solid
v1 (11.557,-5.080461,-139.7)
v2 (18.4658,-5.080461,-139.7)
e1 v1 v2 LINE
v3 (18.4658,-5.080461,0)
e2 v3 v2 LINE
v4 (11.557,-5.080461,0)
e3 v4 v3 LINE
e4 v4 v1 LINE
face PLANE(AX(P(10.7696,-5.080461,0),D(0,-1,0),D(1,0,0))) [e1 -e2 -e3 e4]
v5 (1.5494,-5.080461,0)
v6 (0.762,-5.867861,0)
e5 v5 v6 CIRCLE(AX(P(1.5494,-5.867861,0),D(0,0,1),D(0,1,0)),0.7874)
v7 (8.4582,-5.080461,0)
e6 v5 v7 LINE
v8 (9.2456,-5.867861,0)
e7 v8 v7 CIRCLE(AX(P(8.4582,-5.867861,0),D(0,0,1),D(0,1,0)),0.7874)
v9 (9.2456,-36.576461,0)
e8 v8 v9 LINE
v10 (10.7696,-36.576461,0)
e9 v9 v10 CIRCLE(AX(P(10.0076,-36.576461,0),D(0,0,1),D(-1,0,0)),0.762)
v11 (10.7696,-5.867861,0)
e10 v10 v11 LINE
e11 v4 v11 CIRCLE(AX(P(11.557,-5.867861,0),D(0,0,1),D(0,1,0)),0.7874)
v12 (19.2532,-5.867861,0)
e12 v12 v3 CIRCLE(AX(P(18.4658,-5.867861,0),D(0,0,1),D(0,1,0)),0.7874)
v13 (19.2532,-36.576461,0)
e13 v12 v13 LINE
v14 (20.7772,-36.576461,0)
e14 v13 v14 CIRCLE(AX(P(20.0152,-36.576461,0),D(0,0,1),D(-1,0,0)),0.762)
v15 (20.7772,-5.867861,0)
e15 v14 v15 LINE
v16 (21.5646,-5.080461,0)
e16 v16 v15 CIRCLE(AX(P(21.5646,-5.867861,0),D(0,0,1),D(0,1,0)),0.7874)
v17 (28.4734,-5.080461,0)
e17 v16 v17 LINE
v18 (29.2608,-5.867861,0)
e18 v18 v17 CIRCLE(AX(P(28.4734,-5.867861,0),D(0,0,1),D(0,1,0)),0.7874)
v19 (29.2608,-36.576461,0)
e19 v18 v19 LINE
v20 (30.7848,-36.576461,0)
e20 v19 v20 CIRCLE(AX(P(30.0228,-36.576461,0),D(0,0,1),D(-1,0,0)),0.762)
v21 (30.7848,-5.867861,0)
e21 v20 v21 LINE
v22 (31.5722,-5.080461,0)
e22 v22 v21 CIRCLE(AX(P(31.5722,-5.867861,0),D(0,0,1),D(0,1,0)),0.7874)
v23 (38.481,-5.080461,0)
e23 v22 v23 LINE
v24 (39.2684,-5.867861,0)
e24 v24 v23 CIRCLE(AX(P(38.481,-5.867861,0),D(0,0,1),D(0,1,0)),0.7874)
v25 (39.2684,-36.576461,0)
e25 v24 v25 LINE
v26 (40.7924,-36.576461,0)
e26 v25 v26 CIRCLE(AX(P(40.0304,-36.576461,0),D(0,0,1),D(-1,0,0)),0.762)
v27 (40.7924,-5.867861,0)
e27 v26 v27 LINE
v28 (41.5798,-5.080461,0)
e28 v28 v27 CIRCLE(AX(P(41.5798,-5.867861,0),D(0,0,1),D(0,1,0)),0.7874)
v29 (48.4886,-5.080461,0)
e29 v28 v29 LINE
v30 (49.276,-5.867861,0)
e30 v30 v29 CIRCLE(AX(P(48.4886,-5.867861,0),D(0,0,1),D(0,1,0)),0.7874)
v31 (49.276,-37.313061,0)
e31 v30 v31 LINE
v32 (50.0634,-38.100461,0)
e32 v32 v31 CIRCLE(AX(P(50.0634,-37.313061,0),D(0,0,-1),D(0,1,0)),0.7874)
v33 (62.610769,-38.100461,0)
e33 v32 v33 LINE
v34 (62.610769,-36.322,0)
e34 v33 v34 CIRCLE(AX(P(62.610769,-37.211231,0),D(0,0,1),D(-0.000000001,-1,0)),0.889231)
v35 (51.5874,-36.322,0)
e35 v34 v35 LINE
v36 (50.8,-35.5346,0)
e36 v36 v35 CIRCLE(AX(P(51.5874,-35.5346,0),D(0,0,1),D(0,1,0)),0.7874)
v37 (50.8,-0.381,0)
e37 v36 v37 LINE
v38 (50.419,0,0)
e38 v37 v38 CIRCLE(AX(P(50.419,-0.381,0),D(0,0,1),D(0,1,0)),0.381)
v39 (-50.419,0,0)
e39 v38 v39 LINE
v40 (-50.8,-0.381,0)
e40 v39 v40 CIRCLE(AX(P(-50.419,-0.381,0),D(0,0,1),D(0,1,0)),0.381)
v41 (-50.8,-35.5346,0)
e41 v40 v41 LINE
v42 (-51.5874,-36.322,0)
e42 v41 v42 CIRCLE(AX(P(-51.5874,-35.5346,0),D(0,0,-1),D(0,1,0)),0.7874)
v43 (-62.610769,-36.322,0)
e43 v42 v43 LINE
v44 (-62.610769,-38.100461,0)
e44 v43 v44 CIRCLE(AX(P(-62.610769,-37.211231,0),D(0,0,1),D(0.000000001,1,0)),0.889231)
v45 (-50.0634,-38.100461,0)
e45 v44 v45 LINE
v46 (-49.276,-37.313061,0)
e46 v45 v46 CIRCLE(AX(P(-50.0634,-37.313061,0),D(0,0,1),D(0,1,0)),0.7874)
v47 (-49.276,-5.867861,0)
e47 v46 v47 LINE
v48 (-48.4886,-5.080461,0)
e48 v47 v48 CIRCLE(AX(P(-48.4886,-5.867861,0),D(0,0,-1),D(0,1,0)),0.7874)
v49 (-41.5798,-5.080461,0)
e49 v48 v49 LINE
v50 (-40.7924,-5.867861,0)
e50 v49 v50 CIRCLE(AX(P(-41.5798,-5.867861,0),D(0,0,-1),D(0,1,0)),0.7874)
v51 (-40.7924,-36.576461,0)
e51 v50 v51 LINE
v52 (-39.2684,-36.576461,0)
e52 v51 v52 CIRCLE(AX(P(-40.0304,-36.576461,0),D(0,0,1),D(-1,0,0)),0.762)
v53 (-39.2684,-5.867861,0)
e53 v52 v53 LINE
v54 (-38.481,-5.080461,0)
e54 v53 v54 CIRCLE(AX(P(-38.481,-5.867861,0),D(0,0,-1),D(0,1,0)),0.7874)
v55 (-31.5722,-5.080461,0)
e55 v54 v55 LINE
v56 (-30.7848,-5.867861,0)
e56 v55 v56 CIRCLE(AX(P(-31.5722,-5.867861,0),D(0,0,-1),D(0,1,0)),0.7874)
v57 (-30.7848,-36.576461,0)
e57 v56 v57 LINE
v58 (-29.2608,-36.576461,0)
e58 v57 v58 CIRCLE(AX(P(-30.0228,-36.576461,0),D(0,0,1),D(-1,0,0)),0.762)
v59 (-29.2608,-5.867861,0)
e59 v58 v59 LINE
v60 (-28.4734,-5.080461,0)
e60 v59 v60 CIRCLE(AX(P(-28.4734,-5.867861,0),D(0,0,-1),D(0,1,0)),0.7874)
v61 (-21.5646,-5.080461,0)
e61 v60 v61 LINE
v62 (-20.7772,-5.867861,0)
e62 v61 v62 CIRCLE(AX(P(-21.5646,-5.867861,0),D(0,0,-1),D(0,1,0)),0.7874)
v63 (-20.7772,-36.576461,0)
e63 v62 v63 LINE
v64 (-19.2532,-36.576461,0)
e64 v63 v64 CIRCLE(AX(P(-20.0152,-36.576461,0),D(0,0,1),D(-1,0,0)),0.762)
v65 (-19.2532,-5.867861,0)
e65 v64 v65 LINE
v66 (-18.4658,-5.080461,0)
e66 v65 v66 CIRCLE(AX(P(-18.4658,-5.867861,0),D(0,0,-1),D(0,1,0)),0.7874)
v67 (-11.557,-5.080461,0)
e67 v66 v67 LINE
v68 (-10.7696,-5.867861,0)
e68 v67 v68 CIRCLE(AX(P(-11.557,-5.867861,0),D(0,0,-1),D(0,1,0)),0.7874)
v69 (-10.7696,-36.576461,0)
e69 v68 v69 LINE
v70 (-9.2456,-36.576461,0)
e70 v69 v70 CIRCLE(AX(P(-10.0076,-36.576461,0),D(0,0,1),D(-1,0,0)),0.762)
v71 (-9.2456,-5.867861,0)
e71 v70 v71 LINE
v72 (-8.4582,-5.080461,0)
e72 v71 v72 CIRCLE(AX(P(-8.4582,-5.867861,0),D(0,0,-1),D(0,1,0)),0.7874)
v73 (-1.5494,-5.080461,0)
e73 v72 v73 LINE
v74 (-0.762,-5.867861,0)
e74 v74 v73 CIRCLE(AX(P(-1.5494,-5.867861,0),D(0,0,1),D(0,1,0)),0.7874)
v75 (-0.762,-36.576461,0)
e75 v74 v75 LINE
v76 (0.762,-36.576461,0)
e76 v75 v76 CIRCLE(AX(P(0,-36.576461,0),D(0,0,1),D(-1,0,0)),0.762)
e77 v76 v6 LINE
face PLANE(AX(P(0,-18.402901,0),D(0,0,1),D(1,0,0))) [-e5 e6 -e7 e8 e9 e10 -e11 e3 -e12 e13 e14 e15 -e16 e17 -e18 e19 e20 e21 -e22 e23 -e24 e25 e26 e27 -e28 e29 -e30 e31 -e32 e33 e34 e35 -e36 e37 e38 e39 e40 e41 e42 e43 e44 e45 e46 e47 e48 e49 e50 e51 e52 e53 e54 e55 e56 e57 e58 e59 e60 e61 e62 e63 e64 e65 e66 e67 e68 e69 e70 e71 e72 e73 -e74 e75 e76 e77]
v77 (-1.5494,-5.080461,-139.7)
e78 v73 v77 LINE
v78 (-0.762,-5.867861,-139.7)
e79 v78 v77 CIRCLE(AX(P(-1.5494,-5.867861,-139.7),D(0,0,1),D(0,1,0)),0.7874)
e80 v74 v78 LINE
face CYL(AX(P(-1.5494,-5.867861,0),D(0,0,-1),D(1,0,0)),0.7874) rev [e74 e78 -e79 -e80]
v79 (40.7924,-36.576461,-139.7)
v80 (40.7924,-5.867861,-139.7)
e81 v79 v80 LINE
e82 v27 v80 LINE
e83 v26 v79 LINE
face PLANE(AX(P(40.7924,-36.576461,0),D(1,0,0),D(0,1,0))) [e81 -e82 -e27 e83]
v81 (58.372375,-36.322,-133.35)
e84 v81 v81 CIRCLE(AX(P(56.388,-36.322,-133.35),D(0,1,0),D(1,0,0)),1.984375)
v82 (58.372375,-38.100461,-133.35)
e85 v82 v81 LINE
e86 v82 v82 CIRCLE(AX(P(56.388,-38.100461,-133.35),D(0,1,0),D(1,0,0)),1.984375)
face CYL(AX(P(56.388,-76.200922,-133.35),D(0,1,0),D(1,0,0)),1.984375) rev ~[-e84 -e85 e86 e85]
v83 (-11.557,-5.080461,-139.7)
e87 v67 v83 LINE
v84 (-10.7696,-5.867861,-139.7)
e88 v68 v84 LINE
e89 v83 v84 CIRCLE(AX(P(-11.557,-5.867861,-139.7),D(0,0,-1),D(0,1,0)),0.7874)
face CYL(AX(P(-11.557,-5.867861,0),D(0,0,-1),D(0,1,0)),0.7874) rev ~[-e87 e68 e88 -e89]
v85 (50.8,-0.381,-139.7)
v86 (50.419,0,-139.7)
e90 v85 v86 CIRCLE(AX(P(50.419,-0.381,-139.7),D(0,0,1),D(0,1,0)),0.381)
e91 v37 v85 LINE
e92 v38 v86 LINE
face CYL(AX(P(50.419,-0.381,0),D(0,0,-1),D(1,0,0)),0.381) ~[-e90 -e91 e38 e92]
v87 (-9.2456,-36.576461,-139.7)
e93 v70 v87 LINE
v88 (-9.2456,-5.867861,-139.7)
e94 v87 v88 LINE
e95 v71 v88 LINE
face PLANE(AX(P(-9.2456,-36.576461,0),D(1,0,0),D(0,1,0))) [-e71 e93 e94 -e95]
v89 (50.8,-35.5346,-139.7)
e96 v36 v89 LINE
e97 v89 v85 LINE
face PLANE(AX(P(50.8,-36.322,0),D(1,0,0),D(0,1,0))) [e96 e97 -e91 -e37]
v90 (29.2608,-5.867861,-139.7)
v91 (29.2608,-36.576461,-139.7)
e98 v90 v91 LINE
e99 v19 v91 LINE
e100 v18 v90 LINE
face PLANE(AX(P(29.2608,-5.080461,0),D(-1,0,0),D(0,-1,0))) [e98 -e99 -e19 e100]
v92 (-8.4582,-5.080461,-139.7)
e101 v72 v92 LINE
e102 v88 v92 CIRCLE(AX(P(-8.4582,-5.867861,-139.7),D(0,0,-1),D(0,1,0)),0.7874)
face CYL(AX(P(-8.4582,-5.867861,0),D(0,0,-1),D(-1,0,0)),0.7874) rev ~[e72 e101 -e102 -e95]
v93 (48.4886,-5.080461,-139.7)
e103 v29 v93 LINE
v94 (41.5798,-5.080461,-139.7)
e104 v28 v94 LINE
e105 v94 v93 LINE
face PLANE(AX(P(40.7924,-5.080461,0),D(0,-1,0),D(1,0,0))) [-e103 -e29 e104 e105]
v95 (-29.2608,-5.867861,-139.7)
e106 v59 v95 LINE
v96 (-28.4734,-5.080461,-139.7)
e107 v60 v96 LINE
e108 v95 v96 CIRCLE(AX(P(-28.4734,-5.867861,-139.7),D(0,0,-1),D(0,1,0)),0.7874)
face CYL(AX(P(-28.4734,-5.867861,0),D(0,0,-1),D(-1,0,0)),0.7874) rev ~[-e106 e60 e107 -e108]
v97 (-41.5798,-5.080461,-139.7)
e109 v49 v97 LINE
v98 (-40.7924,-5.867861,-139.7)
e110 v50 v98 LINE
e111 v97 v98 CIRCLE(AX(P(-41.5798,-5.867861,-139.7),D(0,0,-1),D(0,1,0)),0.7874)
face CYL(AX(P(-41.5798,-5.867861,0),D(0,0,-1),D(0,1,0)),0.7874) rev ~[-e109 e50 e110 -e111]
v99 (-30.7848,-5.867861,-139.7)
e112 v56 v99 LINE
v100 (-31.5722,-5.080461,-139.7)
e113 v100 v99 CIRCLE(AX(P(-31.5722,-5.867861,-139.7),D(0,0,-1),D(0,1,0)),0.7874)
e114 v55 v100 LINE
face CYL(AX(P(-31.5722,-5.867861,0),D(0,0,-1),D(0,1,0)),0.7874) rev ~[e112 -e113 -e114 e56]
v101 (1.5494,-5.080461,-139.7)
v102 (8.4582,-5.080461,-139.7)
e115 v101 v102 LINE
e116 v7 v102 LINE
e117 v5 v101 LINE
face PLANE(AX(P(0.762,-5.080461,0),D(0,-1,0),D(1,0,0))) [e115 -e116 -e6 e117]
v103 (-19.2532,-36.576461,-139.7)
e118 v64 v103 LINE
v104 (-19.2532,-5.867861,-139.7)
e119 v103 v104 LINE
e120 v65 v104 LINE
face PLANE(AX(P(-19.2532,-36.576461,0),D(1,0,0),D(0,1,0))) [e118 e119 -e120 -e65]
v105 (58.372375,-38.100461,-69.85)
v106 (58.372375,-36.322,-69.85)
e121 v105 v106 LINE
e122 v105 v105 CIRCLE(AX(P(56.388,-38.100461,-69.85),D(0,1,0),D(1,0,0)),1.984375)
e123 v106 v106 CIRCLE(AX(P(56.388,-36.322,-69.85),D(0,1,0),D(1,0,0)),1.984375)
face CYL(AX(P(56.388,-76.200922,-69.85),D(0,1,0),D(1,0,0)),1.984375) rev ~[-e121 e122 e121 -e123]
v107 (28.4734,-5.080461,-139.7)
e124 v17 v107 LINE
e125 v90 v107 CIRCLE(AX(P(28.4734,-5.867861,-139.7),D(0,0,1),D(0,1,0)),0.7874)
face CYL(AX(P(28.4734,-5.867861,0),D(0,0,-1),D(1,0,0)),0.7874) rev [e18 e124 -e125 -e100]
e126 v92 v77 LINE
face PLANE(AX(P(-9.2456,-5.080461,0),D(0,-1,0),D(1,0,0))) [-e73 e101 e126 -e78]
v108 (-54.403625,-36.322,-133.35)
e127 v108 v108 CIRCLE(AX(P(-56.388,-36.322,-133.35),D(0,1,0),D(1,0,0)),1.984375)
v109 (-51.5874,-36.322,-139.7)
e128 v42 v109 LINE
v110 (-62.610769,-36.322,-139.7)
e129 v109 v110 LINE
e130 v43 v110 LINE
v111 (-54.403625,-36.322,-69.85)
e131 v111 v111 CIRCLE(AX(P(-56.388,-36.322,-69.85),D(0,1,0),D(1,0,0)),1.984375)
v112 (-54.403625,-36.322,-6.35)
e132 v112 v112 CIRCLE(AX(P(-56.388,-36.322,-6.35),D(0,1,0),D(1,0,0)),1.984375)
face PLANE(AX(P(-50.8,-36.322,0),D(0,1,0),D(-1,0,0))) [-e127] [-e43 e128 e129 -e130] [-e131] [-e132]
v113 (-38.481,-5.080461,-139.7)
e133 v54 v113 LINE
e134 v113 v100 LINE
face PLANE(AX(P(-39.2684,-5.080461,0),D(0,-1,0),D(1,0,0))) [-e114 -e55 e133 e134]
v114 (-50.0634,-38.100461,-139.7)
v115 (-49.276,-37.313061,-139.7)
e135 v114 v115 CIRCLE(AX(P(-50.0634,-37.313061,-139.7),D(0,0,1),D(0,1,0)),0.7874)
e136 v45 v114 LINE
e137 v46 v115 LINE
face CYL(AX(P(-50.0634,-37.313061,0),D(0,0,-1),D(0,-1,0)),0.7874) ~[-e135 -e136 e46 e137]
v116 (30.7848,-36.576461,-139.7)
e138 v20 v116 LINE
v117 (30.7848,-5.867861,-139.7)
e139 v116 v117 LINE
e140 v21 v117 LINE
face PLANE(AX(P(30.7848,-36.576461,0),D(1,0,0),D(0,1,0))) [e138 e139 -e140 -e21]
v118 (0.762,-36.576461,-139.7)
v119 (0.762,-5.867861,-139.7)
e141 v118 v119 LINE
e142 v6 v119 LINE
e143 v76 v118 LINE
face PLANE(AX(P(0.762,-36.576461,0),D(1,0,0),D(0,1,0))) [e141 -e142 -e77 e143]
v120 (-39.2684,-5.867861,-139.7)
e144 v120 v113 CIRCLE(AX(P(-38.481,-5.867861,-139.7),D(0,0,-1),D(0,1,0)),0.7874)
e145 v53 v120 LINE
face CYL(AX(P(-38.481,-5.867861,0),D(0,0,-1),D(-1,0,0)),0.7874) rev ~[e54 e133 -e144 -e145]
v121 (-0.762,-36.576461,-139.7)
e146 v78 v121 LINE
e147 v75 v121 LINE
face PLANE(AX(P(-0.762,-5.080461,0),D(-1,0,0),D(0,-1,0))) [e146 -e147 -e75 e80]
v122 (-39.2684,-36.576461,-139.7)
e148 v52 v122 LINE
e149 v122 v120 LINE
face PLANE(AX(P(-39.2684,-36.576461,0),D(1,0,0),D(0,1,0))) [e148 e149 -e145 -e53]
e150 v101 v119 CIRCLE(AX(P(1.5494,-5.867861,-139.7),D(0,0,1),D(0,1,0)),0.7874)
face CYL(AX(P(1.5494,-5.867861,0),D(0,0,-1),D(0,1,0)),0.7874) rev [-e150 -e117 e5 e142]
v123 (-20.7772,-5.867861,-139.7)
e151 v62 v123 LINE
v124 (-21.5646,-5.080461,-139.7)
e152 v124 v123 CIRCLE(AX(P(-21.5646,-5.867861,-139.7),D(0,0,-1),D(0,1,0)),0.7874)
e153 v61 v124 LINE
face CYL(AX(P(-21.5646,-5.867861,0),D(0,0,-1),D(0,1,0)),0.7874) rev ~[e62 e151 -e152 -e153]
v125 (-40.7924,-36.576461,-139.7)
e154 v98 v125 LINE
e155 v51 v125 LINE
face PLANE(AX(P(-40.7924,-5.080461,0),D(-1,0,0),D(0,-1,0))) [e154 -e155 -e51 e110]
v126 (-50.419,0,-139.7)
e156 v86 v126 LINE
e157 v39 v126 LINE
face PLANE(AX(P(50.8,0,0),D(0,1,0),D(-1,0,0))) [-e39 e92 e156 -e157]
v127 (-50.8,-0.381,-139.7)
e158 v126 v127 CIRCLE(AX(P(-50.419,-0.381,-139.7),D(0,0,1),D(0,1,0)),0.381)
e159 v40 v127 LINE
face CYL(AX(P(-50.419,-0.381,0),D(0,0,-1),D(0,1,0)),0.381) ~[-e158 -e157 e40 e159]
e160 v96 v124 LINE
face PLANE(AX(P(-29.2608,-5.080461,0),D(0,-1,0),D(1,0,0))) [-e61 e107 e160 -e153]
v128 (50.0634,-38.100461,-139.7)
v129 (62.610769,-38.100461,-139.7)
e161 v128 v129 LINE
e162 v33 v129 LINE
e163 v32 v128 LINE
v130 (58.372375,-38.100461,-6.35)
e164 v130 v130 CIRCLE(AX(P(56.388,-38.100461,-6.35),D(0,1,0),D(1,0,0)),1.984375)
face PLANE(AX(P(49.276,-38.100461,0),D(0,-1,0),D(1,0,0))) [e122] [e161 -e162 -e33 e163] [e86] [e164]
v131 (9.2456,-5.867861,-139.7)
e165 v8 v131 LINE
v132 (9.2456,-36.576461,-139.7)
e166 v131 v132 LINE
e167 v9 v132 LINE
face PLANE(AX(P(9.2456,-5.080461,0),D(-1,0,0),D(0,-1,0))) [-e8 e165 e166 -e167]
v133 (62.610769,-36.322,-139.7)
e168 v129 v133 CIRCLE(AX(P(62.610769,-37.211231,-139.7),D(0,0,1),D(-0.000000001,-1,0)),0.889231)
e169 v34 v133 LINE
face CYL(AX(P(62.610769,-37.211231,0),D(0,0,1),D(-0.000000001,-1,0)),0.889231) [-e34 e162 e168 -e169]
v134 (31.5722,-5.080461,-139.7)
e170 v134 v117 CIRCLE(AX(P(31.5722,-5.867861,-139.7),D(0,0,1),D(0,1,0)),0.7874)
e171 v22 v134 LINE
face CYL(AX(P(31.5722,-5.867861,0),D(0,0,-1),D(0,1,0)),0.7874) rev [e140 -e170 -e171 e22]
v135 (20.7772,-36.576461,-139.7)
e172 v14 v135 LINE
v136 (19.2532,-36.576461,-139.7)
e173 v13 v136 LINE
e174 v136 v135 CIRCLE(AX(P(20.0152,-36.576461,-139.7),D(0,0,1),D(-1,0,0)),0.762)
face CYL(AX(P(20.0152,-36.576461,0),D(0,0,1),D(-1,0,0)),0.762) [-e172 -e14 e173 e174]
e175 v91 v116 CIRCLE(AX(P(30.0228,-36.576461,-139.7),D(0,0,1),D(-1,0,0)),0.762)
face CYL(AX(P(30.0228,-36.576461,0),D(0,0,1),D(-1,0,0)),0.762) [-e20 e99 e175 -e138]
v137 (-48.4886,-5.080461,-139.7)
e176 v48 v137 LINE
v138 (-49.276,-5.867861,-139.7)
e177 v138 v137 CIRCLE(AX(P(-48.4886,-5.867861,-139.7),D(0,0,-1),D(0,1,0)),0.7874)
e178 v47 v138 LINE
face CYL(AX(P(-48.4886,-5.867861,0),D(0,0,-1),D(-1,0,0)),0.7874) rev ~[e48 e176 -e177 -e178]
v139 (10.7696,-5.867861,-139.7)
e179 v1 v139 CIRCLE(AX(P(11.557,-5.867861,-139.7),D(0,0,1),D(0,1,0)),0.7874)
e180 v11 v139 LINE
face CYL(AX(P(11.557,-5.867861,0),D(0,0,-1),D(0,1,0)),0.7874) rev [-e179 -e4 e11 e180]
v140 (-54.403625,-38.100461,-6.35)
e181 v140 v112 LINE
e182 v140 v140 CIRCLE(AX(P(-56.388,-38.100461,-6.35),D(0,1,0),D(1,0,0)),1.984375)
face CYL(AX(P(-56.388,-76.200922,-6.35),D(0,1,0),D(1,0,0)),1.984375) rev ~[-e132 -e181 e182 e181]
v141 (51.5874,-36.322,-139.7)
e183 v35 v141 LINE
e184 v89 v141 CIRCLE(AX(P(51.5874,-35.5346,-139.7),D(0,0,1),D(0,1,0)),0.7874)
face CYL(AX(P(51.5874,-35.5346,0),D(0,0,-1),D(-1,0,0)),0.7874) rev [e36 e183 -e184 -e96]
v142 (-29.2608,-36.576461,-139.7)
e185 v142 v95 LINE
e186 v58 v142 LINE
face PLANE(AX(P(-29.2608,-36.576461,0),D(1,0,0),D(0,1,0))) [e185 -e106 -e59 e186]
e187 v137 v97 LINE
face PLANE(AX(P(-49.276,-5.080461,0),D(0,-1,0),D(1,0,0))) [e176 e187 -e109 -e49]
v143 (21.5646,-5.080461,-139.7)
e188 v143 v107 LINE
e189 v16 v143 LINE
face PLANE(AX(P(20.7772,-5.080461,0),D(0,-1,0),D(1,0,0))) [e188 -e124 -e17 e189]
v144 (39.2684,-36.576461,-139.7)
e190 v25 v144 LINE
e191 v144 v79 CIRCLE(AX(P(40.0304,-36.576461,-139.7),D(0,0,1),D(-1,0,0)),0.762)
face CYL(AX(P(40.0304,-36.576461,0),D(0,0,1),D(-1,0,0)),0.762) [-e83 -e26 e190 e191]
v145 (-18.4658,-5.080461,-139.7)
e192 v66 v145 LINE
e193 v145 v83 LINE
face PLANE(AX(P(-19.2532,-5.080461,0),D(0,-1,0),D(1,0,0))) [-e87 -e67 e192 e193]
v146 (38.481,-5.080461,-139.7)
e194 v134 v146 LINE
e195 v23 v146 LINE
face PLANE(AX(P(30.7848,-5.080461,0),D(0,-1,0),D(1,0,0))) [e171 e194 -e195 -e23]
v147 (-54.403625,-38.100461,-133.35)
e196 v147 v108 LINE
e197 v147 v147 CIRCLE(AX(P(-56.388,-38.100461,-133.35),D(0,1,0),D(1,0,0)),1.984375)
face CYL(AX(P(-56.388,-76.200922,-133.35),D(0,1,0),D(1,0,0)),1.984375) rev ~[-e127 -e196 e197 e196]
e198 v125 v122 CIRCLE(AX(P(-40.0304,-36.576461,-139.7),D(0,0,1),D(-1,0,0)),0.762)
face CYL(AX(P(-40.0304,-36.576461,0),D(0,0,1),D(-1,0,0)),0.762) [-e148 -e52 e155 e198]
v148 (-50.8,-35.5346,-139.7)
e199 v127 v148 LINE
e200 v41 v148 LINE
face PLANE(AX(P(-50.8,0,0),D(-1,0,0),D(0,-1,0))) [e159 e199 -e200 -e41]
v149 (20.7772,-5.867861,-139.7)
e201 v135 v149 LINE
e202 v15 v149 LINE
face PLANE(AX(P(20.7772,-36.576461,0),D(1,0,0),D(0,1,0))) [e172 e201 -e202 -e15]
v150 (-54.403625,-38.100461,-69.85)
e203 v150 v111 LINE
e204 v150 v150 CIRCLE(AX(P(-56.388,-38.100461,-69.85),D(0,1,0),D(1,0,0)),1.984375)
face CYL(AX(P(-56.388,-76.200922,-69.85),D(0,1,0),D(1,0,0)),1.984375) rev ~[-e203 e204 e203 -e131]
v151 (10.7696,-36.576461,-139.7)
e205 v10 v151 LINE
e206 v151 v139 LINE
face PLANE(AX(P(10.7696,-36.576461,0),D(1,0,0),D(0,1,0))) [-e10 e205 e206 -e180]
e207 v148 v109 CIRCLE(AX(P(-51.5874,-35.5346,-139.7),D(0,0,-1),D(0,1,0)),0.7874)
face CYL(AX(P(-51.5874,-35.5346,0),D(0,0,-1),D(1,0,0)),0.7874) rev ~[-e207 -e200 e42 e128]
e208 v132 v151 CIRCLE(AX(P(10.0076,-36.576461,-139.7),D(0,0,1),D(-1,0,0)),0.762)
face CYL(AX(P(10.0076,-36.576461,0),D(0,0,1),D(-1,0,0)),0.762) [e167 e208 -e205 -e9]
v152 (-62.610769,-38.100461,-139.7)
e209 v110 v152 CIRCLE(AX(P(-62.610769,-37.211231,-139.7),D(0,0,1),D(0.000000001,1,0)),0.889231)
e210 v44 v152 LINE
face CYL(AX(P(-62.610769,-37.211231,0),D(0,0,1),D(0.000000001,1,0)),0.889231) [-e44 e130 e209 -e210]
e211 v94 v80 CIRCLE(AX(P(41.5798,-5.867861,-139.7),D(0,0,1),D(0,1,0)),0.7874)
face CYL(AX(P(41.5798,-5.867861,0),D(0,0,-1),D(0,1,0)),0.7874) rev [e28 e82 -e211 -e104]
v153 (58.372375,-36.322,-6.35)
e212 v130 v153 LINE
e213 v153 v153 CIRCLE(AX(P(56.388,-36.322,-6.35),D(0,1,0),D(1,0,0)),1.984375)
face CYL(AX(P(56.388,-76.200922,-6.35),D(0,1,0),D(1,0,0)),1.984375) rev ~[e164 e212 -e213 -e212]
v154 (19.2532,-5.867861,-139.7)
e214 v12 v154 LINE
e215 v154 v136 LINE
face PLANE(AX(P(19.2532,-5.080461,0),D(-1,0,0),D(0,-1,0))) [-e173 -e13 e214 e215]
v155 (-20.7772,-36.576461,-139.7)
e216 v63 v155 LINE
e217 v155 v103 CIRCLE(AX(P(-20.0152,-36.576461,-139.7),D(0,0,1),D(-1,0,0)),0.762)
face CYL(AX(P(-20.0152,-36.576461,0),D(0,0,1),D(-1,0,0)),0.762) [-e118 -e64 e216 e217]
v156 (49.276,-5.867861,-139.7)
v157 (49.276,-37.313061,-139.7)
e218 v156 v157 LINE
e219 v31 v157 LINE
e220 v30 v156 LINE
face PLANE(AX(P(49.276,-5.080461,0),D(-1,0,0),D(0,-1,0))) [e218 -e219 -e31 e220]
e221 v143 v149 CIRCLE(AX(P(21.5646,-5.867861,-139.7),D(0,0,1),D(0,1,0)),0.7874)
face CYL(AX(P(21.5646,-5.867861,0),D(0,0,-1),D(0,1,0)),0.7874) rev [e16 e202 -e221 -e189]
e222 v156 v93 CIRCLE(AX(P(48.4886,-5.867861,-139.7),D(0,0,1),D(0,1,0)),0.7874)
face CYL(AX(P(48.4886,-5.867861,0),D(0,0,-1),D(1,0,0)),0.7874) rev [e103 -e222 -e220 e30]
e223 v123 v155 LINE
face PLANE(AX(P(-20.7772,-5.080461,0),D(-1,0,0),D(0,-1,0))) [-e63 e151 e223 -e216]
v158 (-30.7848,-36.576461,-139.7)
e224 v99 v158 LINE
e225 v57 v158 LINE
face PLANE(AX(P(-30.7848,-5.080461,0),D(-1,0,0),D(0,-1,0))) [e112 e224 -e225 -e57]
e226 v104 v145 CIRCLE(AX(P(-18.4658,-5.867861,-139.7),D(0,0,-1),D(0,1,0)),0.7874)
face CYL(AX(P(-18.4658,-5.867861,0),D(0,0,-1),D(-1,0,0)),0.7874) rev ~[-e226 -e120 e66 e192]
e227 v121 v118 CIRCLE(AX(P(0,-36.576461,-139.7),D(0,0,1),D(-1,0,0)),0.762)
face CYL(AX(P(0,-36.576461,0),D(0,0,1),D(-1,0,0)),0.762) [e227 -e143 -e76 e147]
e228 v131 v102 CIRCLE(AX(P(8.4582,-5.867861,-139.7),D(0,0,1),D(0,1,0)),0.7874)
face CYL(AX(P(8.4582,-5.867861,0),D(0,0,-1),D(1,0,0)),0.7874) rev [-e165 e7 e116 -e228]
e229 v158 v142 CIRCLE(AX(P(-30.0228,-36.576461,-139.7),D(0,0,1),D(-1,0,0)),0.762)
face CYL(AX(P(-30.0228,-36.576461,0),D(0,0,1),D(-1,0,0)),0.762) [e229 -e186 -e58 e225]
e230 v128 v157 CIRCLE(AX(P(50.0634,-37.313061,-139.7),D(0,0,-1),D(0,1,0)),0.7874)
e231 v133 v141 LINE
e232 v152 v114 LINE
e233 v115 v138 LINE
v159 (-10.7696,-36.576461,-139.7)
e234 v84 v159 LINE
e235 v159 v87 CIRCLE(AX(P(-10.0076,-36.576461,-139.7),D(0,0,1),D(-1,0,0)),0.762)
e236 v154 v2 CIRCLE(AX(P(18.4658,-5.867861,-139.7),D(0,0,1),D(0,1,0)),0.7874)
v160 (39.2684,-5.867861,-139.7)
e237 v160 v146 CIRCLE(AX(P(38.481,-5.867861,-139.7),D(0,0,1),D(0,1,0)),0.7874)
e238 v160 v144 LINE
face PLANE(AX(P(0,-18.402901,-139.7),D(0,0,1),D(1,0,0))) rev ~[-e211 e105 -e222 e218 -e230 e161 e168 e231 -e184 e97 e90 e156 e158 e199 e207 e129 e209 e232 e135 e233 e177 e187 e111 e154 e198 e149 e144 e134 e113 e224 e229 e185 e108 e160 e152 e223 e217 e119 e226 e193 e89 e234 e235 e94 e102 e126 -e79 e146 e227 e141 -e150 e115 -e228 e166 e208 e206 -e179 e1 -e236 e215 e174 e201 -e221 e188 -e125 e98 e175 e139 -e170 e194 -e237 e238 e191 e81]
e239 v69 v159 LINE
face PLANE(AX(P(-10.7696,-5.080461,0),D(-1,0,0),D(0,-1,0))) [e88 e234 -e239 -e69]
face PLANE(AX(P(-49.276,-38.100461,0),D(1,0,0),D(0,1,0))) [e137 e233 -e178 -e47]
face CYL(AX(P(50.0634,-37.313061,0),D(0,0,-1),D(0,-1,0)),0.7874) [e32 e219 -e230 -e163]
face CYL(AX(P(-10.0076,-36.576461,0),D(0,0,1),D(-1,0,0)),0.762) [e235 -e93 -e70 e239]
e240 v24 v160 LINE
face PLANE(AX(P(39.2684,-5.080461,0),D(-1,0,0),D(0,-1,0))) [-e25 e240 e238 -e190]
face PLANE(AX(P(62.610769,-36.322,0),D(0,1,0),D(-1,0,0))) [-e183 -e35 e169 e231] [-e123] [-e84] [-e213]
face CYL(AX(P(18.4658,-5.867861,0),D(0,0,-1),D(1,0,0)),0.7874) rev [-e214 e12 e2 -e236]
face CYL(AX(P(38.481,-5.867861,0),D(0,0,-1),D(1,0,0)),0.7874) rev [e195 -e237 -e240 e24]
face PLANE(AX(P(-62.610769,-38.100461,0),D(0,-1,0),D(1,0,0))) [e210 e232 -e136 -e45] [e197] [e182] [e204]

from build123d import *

# Parameters (mm, degrees)
BOSS_EXTRUDE1_DEPTH                 = 139.7
F_5_32_0_15625_DIAMETER_HOLE1_D     = 3.96875
F_5_32_0_15625_DIAMETER_HOLE1_DEPTH = 38.100461051
FILLET1_R                           = 0.381
FILLET2_R                           = 0.7874


with BuildPart() as part:
    # Sketch1 → Boss-Extrude1 (new body)
    with BuildSketch(Plane.XY):
        with BuildLine():
            Line((62.610769474, -36.322), (50.8, -36.322))
            Line((50.8, -36.322), (50.8, 0))
            Line((50.8, 0), (-50.8, 0))
            Line((-50.8, 0), (-50.8, -36.322))
            Line((-50.8, -36.322), (-62.610769474, -36.322))
            ThreePointArc((-62.610769474, -36.322), (-63.5, -37.211230526), (-62.610769474, -38.100461051))
            Line((-62.610769474, -38.100461051), (-49.276, -38.100461051))
            Line((-49.276, -38.100461051), (-49.276, -5.080461051))
            Line((-49.276, -5.080461051), (-40.7924, -5.080461051))
            Line((-40.7924, -5.080461051), (-40.7924, -36.576461051))
            ThreePointArc((-40.7924, -36.576461051), (-40.0304, -37.338461051), (-39.2684, -36.576461051))
            Line((-39.2684, -36.576461051), (-39.2684, -5.080461051))
            Line((-39.2684, -5.080461051), (-30.7848, -5.080461051))
            Line((-30.7848, -5.080461051), (-30.7848, -36.576461051))
            ThreePointArc((-30.7848, -36.576461051), (-30.0228, -37.338461051), (-29.2608, -36.576461051))
            Line((-29.2608, -36.576461051), (-29.2608, -5.080461051))
            Line((-29.2608, -5.080461051), (-20.7772, -5.080461051))
            Line((-20.7772, -5.080461051), (-20.7772, -36.576461051))
            ThreePointArc((-20.7772, -36.576461051), (-20.0152, -37.338461051), (-19.2532, -36.576461051))
            Line((-19.2532, -36.576461051), (-19.2532, -5.080461051))
            Line((-19.2532, -5.080461051), (-10.7696, -5.080461051))
            Line((-10.7696, -5.080461051), (-10.7696, -36.576461051))
            ThreePointArc((-10.7696, -36.576461051), (-10.0076, -37.338461051), (-9.2456, -36.576461051))
            Line((-9.2456, -36.576461051), (-9.2456, -5.080461051))
            Line((-9.2456, -5.080461051), (-0.762, -5.080461051))
            Line((-0.762, -5.080461051), (-0.762, -36.576461051))
            ThreePointArc((-0.762, -36.576461051), (0, -37.338461051), (0.762, -36.576461051))
            Line((0.762, -36.576461051), (0.762, -5.080461051))
            Line((0.762, -5.080461051), (9.2456, -5.080461051))
            Line((9.2456, -5.080461051), (9.2456, -36.576461051))
            ThreePointArc((9.2456, -36.576461051), (10.0076, -37.338461051), (10.7696, -36.576461051))
            Line((10.7696, -36.576461051), (10.7696, -5.080461051))
            Line((10.7696, -5.080461051), (19.2532, -5.080461051))
            Line((19.2532, -5.080461051), (19.2532, -36.576461051))
            ThreePointArc((19.2532, -36.576461051), (20.0152, -37.338461051), (20.7772, -36.576461051))
            Line((20.7772, -36.576461051), (20.7772, -5.080461051))
            Line((20.7772, -5.080461051), (29.2608, -5.080461051))
            Line((29.2608, -5.080461051), (29.2608, -36.576461051))
            ThreePointArc((29.2608, -36.576461051), (30.0228, -37.338461051), (30.7848, -36.576461051))
            Line((30.7848, -36.576461051), (30.7848, -5.080461051))
            Line((30.7848, -5.080461051), (39.2684, -5.080461051))
            Line((39.2684, -5.080461051), (39.2684, -36.576461051))
            ThreePointArc((39.2684, -36.576461051), (40.0304, -37.338461051), (40.7924, -36.576461051))
            Line((40.7924, -36.576461051), (40.7924, -5.080461051))
            Line((40.7924, -5.080461051), (49.276, -5.080461051))
            Line((49.276, -5.080461051), (49.276, -38.100461051))
            Line((49.276, -38.100461051), (62.610769474, -38.100461051))
            ThreePointArc((62.610769474, -38.100461051), (63.5, -37.211230526), (62.610769474, -36.322))
        make_face()
    extrude(amount=-BOSS_EXTRUDE1_DEPTH)

    # 5/32 (0.15625) Diameter Hole1
    with Locations(Plane(origin=(0, -38.100461051, 0), x_dir=(-1, 0, 0), z_dir=(0, -1, 0))):
        with Locations((56.388, 6.35), (56.388, 69.85), (56.388, 133.35), (-56.388, 6.35), (-56.388, 69.85), (-56.388, 133.35)):
            Hole(F_5_32_0_15625_DIAMETER_HOLE1_D / 2, depth=F_5_32_0_15625_DIAMETER_HOLE1_DEPTH)

    # Fillet1
    fillet1_edges = [part.edges().sort_by_distance(p)[0] for p in [
        (-50.8, 0, -69.85),
        (50.8, 0, -69.85),
    ]]
    fillet(fillet1_edges, radius=FILLET1_R)

    # Fillet2
    fillet2_edges = [part.edges().sort_by_distance(p)[0] for p in [
        (49.276, -38.100461051, -69.85),
        (49.276, -5.080461051, -69.85),
        (40.7924, -5.080461051, -69.85),
        (39.2684, -5.080461051, -69.85),
        (30.7848, -5.080461051, -69.85),
        (29.2608, -5.080461051, -69.85),
        (20.7772, -5.080461051, -69.85),
        (19.2532, -5.080461051, -69.85),
        (10.7696, -5.080461051, -69.85),
        (9.2456, -5.080461051, -69.85),
        (0.762, -5.080461051, -69.85),
        (-0.762, -5.080461051, -69.85),
        (-9.2456, -5.080461051, -69.85),
        (-10.7696, -5.080461051, -69.85),
        (-19.2532, -5.080461051, -69.85),
        (-20.7772, -5.080461051, -69.85),
        (-29.2608, -5.080461051, -69.85),
        (-30.7848, -5.080461051, -69.85),
        (-39.2684, -5.080461051, -69.85),
        (-40.7924, -5.080461051, -69.85),
        (-49.276, -5.080461051, -69.85),
        (-49.276, -38.100461051, -69.85),
        (-50.8, -36.322, -69.85),
        (50.8, -36.322, -69.85),
    ]]
    fillet(fillet2_edges, radius=FILLET2_R)


solid = part.part
